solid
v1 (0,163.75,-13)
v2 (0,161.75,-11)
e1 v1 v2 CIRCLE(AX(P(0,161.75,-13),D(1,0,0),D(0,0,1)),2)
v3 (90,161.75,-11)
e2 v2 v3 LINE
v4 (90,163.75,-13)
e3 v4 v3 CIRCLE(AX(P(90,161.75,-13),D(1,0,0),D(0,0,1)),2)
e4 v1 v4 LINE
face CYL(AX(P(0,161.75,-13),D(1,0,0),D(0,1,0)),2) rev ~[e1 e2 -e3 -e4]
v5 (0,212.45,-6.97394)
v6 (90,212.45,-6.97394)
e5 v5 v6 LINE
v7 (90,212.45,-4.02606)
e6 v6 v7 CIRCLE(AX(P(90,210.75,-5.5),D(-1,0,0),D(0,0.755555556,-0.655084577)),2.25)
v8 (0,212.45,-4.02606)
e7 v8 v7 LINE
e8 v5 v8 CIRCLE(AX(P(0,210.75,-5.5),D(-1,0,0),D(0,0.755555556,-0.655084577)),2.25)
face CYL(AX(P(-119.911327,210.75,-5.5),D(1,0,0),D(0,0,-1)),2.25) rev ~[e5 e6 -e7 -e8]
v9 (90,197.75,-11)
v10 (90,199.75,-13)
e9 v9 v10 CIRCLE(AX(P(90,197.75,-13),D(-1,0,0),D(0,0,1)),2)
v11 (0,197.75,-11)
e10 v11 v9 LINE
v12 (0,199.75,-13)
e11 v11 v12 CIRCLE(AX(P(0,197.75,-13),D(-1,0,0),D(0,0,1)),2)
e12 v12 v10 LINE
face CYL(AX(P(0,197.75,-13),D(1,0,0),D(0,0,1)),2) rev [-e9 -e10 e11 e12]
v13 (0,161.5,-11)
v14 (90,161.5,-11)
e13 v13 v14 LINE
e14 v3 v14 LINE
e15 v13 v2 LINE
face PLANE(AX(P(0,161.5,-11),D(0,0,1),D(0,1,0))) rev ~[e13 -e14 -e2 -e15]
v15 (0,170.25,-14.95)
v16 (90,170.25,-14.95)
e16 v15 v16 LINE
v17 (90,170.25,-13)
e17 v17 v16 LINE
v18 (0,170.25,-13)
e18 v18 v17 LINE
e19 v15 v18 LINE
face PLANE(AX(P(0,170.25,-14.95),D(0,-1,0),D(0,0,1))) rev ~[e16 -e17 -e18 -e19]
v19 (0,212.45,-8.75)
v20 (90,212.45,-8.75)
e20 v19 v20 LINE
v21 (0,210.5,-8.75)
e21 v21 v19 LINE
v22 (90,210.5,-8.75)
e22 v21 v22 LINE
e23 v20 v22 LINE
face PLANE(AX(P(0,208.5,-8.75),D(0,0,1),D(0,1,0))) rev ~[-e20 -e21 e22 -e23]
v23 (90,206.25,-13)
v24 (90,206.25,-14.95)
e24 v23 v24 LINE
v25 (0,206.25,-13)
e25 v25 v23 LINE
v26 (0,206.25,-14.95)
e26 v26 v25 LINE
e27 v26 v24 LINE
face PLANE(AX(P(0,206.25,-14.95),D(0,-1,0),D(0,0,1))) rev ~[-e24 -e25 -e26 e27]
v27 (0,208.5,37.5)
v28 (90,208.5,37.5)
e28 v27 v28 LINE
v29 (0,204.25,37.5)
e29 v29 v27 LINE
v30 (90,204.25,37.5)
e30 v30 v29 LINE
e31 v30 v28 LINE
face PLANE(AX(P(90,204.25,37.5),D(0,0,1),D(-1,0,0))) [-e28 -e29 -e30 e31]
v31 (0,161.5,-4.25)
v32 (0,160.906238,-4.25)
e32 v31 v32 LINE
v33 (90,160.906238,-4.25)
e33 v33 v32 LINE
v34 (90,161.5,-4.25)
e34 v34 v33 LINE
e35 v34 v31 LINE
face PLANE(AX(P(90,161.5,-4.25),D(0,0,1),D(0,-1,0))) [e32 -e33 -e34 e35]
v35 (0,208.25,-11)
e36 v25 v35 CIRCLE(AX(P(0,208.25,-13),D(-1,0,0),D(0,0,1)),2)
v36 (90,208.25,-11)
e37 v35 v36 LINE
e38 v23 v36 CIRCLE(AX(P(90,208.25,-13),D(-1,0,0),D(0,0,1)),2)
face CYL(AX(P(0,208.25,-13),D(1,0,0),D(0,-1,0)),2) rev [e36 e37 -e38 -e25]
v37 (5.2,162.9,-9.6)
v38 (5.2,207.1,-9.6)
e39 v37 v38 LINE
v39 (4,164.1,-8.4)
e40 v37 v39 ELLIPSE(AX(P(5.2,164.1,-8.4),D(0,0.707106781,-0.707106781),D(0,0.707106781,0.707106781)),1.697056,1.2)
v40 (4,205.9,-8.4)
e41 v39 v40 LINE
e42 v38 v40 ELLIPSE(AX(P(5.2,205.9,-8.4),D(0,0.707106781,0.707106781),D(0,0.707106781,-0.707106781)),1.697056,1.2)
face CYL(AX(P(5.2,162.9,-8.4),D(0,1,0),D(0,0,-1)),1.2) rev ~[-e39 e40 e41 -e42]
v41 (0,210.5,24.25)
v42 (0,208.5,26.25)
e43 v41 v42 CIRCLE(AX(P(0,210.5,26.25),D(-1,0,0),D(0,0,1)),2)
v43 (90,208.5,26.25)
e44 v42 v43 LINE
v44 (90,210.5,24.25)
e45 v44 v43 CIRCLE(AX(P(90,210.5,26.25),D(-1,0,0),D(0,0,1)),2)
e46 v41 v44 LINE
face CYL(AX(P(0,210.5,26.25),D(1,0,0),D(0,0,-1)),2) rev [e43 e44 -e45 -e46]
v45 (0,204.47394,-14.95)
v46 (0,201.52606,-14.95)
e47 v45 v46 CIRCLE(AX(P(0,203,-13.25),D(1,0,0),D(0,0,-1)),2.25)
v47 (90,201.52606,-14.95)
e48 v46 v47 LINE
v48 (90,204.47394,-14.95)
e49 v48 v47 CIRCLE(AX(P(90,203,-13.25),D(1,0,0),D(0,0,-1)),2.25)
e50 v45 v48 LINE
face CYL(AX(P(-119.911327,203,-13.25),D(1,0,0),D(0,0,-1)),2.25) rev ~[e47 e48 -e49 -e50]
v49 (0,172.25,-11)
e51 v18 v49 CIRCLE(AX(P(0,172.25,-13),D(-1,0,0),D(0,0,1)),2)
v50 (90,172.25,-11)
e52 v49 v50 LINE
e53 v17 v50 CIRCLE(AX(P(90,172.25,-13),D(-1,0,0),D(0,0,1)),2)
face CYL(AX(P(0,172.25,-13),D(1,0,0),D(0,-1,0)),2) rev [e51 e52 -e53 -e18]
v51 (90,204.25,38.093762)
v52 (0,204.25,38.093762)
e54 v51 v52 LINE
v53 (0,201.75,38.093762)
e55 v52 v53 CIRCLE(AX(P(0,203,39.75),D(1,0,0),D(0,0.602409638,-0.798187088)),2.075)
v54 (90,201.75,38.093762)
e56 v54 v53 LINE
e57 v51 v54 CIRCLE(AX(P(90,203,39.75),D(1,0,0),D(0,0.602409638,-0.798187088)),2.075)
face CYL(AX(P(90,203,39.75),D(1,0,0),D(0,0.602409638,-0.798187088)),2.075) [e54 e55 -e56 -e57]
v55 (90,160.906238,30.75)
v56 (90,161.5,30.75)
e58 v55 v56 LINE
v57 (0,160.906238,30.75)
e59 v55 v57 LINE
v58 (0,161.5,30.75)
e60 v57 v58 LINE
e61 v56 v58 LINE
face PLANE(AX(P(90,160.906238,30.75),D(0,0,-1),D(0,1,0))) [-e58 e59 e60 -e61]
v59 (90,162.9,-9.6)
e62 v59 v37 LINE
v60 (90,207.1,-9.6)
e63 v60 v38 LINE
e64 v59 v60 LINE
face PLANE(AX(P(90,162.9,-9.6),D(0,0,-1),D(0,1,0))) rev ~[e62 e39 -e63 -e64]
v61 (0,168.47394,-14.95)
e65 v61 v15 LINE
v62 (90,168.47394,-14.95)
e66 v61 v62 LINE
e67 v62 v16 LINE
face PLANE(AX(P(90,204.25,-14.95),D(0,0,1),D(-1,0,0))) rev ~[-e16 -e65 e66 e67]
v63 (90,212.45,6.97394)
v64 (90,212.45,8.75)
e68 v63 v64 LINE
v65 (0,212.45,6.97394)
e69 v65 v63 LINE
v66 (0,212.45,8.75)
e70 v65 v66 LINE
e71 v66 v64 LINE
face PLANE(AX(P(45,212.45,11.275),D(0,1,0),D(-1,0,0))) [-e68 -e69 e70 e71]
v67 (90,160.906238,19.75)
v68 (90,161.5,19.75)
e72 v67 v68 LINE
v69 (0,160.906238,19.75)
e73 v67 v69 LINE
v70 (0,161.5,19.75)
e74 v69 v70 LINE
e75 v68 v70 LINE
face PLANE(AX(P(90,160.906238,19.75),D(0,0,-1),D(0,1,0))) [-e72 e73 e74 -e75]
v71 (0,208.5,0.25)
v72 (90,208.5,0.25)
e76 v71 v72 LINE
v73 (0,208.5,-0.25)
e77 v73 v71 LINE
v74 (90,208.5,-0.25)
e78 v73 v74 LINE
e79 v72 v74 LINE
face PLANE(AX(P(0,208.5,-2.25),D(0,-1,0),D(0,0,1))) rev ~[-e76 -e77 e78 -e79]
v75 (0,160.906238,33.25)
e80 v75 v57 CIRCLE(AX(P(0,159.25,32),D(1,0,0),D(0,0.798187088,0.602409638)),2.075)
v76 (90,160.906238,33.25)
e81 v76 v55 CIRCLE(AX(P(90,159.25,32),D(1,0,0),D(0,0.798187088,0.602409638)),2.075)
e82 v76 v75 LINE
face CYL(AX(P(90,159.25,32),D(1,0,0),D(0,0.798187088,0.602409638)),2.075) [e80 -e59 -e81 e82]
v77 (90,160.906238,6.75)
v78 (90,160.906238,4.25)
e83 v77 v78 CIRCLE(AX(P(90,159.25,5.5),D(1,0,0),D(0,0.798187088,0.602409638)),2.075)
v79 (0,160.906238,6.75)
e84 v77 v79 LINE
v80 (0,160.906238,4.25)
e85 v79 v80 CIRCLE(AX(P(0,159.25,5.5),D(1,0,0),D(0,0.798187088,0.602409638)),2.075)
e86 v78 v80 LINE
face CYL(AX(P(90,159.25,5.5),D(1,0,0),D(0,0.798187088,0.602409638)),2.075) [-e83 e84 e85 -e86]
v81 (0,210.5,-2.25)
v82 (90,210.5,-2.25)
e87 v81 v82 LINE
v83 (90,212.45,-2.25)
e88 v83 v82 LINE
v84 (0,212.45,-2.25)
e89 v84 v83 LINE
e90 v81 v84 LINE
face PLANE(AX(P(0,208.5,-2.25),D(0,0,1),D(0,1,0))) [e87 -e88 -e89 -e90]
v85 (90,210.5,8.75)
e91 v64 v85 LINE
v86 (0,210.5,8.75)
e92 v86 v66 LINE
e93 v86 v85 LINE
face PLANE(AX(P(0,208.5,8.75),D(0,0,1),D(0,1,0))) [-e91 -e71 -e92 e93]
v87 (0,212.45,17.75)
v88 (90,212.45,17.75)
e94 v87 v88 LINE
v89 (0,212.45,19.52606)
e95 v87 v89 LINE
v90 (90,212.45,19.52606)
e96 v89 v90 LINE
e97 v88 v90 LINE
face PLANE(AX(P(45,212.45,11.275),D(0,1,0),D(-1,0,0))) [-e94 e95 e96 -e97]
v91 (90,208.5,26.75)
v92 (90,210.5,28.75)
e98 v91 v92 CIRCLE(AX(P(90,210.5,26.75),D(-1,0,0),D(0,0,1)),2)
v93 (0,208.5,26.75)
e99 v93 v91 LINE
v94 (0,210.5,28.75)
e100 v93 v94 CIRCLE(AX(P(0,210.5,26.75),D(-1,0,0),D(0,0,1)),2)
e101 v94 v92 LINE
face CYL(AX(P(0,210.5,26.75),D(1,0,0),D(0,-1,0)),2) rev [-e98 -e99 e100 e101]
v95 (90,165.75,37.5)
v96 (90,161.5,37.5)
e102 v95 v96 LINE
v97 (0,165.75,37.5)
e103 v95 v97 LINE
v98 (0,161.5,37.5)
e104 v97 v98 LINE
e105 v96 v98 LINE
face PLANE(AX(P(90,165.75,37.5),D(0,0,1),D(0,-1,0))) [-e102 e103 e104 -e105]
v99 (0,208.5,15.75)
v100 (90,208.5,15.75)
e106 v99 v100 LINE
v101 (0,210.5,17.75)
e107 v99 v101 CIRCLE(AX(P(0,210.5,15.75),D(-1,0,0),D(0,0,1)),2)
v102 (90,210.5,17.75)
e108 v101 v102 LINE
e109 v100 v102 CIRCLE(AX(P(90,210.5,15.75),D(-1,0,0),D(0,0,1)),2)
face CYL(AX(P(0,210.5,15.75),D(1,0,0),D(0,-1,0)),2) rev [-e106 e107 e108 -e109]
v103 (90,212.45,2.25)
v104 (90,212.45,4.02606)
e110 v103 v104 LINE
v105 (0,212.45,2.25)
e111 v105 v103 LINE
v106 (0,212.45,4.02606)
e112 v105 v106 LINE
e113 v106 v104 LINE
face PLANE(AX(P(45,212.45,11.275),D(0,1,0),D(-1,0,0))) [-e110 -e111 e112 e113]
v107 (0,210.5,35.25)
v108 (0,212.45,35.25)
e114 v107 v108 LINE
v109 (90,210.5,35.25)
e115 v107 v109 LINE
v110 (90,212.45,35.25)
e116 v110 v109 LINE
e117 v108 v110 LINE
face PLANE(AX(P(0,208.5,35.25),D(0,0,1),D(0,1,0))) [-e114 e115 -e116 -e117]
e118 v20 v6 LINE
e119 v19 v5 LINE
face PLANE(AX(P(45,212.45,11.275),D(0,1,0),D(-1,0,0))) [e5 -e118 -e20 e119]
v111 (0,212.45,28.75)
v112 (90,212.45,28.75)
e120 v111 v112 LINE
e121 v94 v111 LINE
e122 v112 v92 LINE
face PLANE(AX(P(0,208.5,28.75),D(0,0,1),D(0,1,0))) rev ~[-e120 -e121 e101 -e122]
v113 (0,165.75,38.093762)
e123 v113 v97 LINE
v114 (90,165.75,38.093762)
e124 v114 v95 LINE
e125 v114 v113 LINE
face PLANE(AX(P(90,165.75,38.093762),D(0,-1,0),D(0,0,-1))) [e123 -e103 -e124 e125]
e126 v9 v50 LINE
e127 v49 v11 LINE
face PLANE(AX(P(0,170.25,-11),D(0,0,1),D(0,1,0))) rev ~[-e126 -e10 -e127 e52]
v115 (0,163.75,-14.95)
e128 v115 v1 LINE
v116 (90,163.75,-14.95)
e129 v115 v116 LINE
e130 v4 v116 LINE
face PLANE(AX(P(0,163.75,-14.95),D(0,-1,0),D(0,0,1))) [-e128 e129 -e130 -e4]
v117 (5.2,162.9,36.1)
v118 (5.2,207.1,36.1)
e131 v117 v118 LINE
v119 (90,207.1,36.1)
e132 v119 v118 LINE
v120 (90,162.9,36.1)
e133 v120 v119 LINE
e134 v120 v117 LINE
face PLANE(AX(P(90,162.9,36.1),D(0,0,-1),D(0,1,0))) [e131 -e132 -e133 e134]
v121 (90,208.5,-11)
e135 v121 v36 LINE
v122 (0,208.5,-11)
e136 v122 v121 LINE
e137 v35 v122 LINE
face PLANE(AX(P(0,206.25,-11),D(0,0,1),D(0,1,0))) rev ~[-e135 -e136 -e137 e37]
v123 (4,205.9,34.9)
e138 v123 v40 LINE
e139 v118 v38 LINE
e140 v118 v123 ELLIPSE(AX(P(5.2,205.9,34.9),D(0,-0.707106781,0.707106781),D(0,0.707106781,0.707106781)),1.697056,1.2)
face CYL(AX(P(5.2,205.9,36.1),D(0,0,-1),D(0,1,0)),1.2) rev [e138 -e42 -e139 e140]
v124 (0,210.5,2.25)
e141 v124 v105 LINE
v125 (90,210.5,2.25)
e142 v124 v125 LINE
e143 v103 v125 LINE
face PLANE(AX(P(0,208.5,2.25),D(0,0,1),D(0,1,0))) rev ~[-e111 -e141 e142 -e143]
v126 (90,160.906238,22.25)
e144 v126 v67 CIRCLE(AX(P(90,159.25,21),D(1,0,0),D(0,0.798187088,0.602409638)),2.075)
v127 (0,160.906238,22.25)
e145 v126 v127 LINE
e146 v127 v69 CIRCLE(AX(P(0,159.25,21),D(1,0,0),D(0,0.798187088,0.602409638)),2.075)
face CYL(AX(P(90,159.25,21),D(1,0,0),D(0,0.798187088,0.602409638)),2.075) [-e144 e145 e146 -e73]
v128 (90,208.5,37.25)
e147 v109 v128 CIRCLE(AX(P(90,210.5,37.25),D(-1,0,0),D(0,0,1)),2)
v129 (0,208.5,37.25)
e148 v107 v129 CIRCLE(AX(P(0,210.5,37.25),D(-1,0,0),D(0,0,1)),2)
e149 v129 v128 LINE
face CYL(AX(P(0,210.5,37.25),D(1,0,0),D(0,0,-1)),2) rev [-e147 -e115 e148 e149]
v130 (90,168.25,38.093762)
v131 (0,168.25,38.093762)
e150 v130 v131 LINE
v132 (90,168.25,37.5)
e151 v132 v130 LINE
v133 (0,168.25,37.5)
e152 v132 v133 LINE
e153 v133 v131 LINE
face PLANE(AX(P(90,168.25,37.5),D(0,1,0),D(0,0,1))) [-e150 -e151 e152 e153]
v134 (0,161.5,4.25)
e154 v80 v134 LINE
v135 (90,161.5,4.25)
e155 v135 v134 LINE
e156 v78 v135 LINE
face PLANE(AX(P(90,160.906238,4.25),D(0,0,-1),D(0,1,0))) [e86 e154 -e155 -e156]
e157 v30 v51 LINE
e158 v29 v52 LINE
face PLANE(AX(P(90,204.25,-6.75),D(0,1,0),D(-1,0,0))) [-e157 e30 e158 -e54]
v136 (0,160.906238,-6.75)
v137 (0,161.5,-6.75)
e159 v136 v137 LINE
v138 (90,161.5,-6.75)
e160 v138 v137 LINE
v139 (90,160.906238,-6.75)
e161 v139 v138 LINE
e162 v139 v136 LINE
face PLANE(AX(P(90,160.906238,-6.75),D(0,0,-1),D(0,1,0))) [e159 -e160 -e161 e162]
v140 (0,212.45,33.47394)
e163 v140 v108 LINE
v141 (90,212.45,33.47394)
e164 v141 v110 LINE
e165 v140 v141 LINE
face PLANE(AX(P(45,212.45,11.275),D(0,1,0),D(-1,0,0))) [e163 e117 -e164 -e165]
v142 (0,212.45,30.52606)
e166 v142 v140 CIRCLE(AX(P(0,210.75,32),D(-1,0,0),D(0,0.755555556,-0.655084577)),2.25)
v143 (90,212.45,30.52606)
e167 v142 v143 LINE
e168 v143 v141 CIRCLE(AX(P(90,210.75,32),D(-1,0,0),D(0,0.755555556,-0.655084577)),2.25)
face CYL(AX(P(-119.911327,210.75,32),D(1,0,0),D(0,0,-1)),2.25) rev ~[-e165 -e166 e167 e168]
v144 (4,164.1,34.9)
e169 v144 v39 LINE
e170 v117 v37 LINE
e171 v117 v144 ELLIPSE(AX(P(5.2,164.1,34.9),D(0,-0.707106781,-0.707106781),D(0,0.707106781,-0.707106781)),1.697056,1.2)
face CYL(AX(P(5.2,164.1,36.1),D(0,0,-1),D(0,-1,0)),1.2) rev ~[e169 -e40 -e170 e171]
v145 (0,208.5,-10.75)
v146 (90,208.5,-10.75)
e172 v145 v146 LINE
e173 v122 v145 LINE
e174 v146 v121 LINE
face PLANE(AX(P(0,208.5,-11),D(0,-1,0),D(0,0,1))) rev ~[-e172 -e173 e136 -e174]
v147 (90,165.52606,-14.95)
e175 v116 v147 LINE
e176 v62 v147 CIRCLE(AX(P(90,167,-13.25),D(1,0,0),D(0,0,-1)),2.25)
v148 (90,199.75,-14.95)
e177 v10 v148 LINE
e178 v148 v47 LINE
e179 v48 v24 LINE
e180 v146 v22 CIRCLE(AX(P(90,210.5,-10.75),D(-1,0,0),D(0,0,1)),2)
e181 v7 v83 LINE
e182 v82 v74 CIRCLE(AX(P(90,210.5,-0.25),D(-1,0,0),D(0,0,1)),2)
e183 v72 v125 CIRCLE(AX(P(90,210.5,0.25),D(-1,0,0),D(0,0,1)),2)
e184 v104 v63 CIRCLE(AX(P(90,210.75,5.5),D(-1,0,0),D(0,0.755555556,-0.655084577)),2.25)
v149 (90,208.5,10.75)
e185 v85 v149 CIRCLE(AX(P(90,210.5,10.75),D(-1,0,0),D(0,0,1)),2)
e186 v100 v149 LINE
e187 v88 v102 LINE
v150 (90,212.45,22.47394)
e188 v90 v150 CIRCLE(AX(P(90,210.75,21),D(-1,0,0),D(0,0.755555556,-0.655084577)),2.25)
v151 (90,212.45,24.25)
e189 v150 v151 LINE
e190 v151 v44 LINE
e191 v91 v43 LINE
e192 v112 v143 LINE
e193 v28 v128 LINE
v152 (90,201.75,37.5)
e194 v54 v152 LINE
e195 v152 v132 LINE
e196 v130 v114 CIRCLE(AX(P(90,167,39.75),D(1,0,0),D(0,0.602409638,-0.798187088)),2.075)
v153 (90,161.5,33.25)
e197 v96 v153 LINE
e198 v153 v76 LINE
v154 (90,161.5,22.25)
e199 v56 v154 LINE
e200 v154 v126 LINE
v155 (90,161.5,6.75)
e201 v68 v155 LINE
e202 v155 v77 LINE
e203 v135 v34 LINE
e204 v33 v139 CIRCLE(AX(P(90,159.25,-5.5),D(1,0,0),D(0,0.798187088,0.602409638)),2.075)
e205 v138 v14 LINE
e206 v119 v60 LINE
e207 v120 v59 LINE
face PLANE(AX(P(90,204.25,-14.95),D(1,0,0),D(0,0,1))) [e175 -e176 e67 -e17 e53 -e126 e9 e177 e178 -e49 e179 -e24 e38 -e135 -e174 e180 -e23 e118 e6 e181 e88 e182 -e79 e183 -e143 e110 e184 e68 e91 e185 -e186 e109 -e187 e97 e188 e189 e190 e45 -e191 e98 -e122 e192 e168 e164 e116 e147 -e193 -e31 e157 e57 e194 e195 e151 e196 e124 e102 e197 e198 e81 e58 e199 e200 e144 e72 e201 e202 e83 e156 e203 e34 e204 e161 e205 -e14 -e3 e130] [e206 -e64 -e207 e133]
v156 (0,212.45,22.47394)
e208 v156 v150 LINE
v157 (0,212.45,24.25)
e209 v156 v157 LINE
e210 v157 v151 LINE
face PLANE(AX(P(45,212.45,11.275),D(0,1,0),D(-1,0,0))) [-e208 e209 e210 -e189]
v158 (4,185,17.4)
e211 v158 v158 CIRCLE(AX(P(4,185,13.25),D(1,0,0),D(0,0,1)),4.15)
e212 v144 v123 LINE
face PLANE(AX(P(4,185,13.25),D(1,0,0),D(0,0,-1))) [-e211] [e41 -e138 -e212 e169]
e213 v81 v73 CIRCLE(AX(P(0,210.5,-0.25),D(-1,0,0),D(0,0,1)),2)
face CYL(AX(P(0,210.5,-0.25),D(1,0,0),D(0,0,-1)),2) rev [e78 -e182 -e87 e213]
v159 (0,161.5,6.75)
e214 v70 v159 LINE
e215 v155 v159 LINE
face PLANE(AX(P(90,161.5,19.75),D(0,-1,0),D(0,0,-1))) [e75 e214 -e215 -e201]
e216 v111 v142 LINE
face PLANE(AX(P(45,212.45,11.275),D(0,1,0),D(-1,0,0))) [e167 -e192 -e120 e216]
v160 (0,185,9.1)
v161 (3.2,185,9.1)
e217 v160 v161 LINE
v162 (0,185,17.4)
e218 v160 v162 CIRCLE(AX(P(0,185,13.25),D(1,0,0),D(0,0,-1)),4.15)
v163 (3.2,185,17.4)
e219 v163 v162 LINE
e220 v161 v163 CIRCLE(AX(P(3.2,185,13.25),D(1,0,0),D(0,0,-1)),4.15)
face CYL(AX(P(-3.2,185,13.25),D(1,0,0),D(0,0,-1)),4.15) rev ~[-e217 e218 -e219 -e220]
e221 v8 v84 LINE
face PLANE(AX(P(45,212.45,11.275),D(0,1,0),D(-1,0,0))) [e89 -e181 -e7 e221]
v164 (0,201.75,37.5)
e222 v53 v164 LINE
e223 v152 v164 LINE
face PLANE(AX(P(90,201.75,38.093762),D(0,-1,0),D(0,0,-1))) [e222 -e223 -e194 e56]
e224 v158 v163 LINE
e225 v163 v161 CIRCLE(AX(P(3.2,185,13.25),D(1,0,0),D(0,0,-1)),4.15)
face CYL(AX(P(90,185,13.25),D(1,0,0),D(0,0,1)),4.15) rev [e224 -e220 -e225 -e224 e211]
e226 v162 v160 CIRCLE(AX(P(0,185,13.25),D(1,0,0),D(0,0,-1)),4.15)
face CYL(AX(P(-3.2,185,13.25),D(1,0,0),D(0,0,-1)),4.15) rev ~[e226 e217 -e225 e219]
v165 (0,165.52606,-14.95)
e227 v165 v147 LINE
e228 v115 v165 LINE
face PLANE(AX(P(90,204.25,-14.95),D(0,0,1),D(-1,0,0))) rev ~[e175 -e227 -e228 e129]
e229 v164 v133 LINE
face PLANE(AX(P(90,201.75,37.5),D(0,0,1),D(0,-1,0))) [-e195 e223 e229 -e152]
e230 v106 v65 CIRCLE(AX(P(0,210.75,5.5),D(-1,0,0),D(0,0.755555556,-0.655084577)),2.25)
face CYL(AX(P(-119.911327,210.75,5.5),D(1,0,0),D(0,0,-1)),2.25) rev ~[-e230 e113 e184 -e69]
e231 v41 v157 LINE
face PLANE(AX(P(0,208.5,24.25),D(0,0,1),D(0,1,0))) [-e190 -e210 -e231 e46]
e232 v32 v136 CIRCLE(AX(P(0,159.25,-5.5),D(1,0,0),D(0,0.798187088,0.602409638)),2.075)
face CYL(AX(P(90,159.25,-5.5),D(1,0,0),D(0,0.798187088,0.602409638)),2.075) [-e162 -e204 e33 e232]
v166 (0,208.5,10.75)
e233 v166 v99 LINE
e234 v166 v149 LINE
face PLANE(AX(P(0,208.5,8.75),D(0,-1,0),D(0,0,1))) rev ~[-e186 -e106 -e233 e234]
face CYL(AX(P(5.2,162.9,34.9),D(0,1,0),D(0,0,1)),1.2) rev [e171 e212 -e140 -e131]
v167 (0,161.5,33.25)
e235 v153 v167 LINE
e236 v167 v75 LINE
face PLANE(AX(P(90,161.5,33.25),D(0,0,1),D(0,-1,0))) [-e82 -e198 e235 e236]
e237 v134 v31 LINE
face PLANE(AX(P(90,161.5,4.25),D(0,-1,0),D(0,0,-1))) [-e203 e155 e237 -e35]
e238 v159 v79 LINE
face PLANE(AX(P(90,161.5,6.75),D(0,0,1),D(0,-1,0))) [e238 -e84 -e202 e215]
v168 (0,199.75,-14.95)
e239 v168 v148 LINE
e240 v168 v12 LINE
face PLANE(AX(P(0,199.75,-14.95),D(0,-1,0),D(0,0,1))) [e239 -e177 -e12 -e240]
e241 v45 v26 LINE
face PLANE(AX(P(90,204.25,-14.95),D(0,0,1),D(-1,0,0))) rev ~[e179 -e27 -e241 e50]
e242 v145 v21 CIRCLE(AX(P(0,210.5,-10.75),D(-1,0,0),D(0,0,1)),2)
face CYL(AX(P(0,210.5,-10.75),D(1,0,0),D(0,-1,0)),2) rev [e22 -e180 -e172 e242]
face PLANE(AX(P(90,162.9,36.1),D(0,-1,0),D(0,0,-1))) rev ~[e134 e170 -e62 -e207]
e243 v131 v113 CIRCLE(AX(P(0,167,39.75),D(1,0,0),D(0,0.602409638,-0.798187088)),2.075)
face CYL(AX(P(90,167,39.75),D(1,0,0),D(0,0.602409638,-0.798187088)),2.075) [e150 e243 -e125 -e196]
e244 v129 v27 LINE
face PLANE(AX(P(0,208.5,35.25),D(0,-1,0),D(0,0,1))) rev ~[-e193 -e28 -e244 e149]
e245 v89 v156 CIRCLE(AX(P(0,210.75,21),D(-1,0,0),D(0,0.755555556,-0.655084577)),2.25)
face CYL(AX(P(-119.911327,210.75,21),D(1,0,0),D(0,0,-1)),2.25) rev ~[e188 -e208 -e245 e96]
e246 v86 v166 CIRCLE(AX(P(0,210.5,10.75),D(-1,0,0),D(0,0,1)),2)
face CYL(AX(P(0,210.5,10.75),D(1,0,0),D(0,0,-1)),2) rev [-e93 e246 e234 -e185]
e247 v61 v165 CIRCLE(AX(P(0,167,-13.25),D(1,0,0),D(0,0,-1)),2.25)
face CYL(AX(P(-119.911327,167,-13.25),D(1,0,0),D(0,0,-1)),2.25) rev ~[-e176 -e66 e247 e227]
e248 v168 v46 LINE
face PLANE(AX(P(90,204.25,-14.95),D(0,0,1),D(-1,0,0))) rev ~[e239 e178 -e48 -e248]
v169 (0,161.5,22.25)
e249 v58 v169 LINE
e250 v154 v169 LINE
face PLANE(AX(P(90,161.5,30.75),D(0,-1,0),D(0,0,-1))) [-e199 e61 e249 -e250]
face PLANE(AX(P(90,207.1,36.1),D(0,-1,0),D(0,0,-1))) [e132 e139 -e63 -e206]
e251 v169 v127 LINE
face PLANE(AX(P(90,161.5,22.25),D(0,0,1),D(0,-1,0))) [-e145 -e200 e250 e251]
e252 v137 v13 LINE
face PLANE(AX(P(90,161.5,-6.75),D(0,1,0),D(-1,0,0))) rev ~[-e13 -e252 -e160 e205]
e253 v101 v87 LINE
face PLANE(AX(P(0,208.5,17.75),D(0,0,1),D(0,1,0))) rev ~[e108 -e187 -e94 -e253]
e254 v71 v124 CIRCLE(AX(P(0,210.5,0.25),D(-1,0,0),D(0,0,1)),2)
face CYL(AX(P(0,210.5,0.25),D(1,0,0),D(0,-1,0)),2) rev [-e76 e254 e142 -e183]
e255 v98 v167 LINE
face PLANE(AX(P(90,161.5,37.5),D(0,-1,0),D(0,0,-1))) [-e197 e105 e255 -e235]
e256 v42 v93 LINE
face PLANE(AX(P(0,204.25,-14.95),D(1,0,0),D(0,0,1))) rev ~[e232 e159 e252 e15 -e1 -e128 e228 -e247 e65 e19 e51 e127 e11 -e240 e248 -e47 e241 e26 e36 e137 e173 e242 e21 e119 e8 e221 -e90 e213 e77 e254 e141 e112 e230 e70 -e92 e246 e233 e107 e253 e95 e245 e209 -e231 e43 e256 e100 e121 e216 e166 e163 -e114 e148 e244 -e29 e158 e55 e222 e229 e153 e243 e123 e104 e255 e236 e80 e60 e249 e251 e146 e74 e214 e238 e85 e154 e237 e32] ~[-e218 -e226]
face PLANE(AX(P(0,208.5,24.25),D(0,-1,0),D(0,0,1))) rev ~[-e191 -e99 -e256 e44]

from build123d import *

# Parameters (mm, degrees)
EXTRUDE_1_DEPTH             = 90
SKETCH_2_W                  = 90
SKETCH_2_H                  = 42.75
EXTRUDE_2_DEPTH             = 8.2
SKETCH_3_W                  = 90
SKETCH_3_H                  = 52.45
EXTRUDE_3_DEPTH             = 8.2
SKETCH_4_W                  = 3.95
SKETCH_4_H                  = 2.25
CUT_EXTRUDE_1_DEPTH         = 235.487383722
SKETCH_5_W                  = 3.95
SKETCH_5_H                  = 29.5
CUT_EXTRUDE_2_DEPTH         = 235.487383722
SKETCH_6_W                  = 3.95
SKETCH_6_H                  = 6.2
CUT_EXTRUDE_3_DEPTH         = 235.487383722
SKETCH_7_W                  = 2.25
SKETCH_7_H                  = 3.95
CUT_EXTRUDE_4_DEPTH         = 235.487383722
SKETCH_8_W                  = 4.5
SKETCH_8_H                  = 3.95
CUT_EXTRUDE_5_DEPTH         = 235.487383722
SKETCH_9_W                  = 9
SKETCH_9_H                  = 3.95
CUT_EXTRUDE_6_DEPTH         = 235.487383722
SKETCH_10_W                 = 4.5
SKETCH_10_H                 = 3.95
CUT_EXTRUDE_7_DEPTH         = 235.487383722
SKETCH_11_W                 = 2.25
SKETCH_11_H                 = 3.95
CUT_EXTRUDE_8_DEPTH         = 235.487383722
SKETCH_12_W                 = 45.7
SKETCH_12_H                 = 44.2
CUT_EXTRUDE_9_DEPTH         = 86
HOLE_WIZARD_2_5_2_5_1_D     = 2.5
HOLE_WIZARD_4_5_4_5_1_D     = 4.5
HOLE_WIZARD_8_3_8_3_1_D     = 8.3
HOLE_WIZARD_8_3_8_3_1_DEPTH = 3.2
SKETCH_19_R                 = 1.67252853
SKETCH_19_R_2               = 1.459159852
SKETCH_19_R_3               = 1.459908976
SKETCH_19_R_4               = 1.592821911
SKETCH_19_R_5               = 1.532216665
SKETCH_19_R_6               = 1.596138091
EXTRUDE_4_DEPTH             = 90
CUT_EXTRUDE_START           = -90
SKETCH_20_R                 = 4.15
CUT_EXTRUDE_10_DEPTH        = 90
FILLET_1_R                  = 2
FILLET_2_R                  = 2
FILLET_3_R                  = 2
FILLET_4_R                  = 2
FILLET_5_R                  = 2
FILLET_6_R                  = 2
FILLET_7_R                  = 2
FILLET_8_R                  = 2
FILLET_9_R                  = 2
FILLET_10_R                 = 2
FILLET_11_R                 = 2
FILLET_12_R                 = 2
FILLET_13_R                 = 1.2


with BuildPart() as part:
    # Эскиз1 → Бобышка-Вытянуть1 (new body)
    with BuildSketch(Plane(origin=(90, 0, 0), x_dir=(0, 0, -1), z_dir=(1, 0, 0))):
        with BuildLine():
            Line((6.75, 160.906238208), (6.75, 204.25))
            Line((6.75, 204.25), (-38.093761792, 204.25))
            ThreePointArc((-38.093761792, 204.25), (-41.825, 203), (-38.093761792, 201.75))
            Line((-38.093761792, 201.75), (-37.5, 201.75))
            Line((-37.5, 201.75), (-37.5, 168.25))
            Line((-37.5, 168.25), (-38.093761792, 168.25))
            ThreePointArc((-38.093761792, 168.25), (-41.825, 167), (-38.093761792, 165.75))
            Line((-38.093761792, 165.75), (-37.5, 165.75))
            Line((-37.5, 165.75), (-37.5, 161.5))
            Line((-37.5, 161.5), (-33.25, 161.5))
            Line((-33.25, 161.5), (-33.25, 160.906238208))
            ThreePointArc((-33.25, 160.906238208), (-32, 157.175), (-30.75, 160.906238208))
            Line((-30.75, 160.906238208), (-30.75, 161.5))
            Line((-30.75, 161.5), (-22.25, 161.5))
            Line((-22.25, 161.5), (-22.25, 160.906238208))
            ThreePointArc((-22.25, 160.906238208), (-21, 157.175), (-19.75, 160.906238208))
            Line((-19.75, 160.906238208), (-19.75, 161.5))
            Line((-19.75, 161.5), (-6.75, 161.5))
            Line((-6.75, 161.5), (-6.75, 160.906238208))
            ThreePointArc((-6.75, 160.906238208), (-5.5, 157.175), (-4.25, 160.906238208))
            Line((-4.25, 160.906238208), (-4.25, 161.5))
            Line((-4.25, 161.5), (4.25, 161.5))
            Line((4.25, 161.5), (4.25, 160.906238208))
            ThreePointArc((4.25, 160.906238208), (5.5, 157.175), (6.75, 160.906238208))
        make_face()
    extrude(amount=-EXTRUDE_1_DEPTH)

    # Эскиз2 → Бобышка-Вытянуть2 (add)
    with BuildSketch(Plane(origin=(0, 0, -6.75), x_dir=(-1, 0, 0), z_dir=(0, 0, -1))):
        with Locations((-45, 182.875)):
            Rectangle(SKETCH_2_W, SKETCH_2_H)
    extrude(amount=EXTRUDE_2_DEPTH)

    # Эскиз3 → Бобышка-Вытянуть3 (add)
    with BuildSketch(Plane(origin=(0, 204.25, 0), x_dir=(-1, 0, 0), z_dir=(0, 1, 0))):
        with Locations((-45, 11.275)):
            Rectangle(SKETCH_3_W, SKETCH_3_H)
    extrude(amount=EXTRUDE_3_DEPTH)

    # Эскиз4 → Вырез-Вытянуть1 (cut, through all)
    with BuildSketch(Plane.ZY):
        with Locations((-12.975, 162.625)):
            Rectangle(SKETCH_4_W, SKETCH_4_H)
    extrude(amount=-CUT_EXTRUDE_1_DEPTH, mode=Mode.SUBTRACT)

    # Эскиз5 → Вырез-Вытянуть2 (cut, through all)
    with BuildSketch(Plane.ZY):
        with Locations((-12.975, 185)):
            Rectangle(SKETCH_5_W, SKETCH_5_H)
    extrude(amount=-CUT_EXTRUDE_2_DEPTH, mode=Mode.SUBTRACT)

    # Эскиз6 → Вырез-Вытянуть3 (cut, through all)
    with BuildSketch(Plane.ZY):
        with Locations((-12.975, 209.35)):
            Rectangle(SKETCH_6_W, SKETCH_6_H)
    extrude(amount=-CUT_EXTRUDE_3_DEPTH, mode=Mode.SUBTRACT)

    # Эскиз7 → Вырез-Вытянуть4 (cut, through all)
    with BuildSketch(Plane.ZY):
        with Locations((-9.875, 210.475)):
            Rectangle(SKETCH_7_W, SKETCH_7_H)
    extrude(amount=-CUT_EXTRUDE_4_DEPTH, mode=Mode.SUBTRACT)

    # Эскиз8 → Вырез-Вытянуть5 (cut, through all)
    with BuildSketch(Plane.ZY):
        with Locations((0, 210.475)):
            Rectangle(SKETCH_8_W, SKETCH_8_H)
    extrude(amount=-CUT_EXTRUDE_5_DEPTH, mode=Mode.SUBTRACT)

    # Эскиз9 → Вырез-Вытянуть6 (cut, through all)
    with BuildSketch(Plane.ZY):
        with Locations((13.25, 210.475)):
            Rectangle(SKETCH_9_W, SKETCH_9_H)
    extrude(amount=-CUT_EXTRUDE_6_DEPTH, mode=Mode.SUBTRACT)

    # Эскиз10 → Вырез-Вытянуть7 (cut, through all)
    with BuildSketch(Plane.ZY):
        with Locations((26.5, 210.475)):
            Rectangle(SKETCH_10_W, SKETCH_10_H)
    extrude(amount=-CUT_EXTRUDE_7_DEPTH, mode=Mode.SUBTRACT)

    # Эскиз11 → Вырез-Вытянуть8 (cut, through all)
    with BuildSketch(Plane.ZY):
        with Locations((36.375, 210.475)):
            Rectangle(SKETCH_11_W, SKETCH_11_H)
    extrude(amount=-CUT_EXTRUDE_8_DEPTH, mode=Mode.SUBTRACT)

    # Эскиз12 → Вырез-Вытянуть9 (cut)
    with BuildSketch(Plane(origin=(90, 0, 0), x_dir=(0, 0, -1), z_dir=(1, 0, 0))):
        with Locations((-13.25, 185)):
            Rectangle(SKETCH_12_W, SKETCH_12_H)
    extrude(amount=-CUT_EXTRUDE_9_DEPTH, mode=Mode.SUBTRACT)

    # Диаметр отверстия Ø2.5 (2.5)1 (through all)
    with Locations(Plane(origin=(90, 0, 0), x_dir=(0, 0, -1), z_dir=(1, 0, 0))):
        with Locations((5.5, 159.25), (-21, 159.25), (-5.5, 159.25), (-32, 159.25), (-39.75, 167), (-39.75, 203)):
            Hole(HOLE_WIZARD_2_5_2_5_1_D / 2)

    # Диаметр отверстия Ø4.5 (4.5)1 (through all)
    with Locations(Plane.ZY):
        with Locations((-13.25, 167), (-13.25, 203), (-5.5, 210.75), (5.5, 210.75), (21, 210.75), (32, 210.75)):
            Hole(HOLE_WIZARD_4_5_4_5_1_D / 2)

    # Диаметр отверстия Ø8.3 (8.3)1
    with Locations(Plane.ZY):
        with Locations((13.25, 185)):
            Hole(HOLE_WIZARD_8_3_8_3_1_D / 2, depth=HOLE_WIZARD_8_3_8_3_1_DEPTH)

    # Эскиз19 → Бобышка-Вытянуть4 (add)
    with BuildSketch(Plane(origin=(90, 0, 0), x_dir=(0, 0, -1), z_dir=(1, 0, 0))):
        with Locations((-39.75, 203)):
            Circle(SKETCH_19_R)
        with Locations((-39.75, 167)):
            Circle(SKETCH_19_R_2)
        with Locations((-32, 159.25)):
            Circle(SKETCH_19_R_3)
        with Locations((-21, 159.25)):
            Circle(SKETCH_19_R_4)
        with Locations((-5.5, 159.25)):
            Circle(SKETCH_19_R_5)
        with Locations((5.5, 159.25)):
            Circle(SKETCH_19_R_6)
    extrude(amount=-EXTRUDE_4_DEPTH)

    # Эскиз20 → Вырез-Вытянуть10 (cut)
    with BuildSketch(Plane.ZY.offset(CUT_EXTRUDE_START)):
        with Locations((13.25, 185)):
            Circle(SKETCH_20_R)
    extrude(amount=CUT_EXTRUDE_10_DEPTH, mode=Mode.SUBTRACT)

    # Скругление1
    fillet_1_edges = [part.edges().sort_by_distance(p)[0] for p in [
        (45, 208.5, -8.75),
    ]]
    fillet(fillet_1_edges, radius=FILLET_1_R)

    # Скругление2
    fillet_2_edges = [part.edges().sort_by_distance(p)[0] for p in [
        (45, 163.75, -11),
    ]]
    fillet(fillet_2_edges, radius=FILLET_2_R)

    # Скругление3
    fillet_3_edges = [part.edges().sort_by_distance(p)[0] for p in [
        (45, 170.25, -11),
    ]]
    fillet(fillet_3_edges, radius=FILLET_3_R)

    # Скругление4
    fillet_4_edges = [part.edges().sort_by_distance(p)[0] for p in [
        (45, 199.75, -11),
    ]]
    fillet(fillet_4_edges, radius=FILLET_4_R)

    # Скругление5
    fillet_5_edges = [part.edges().sort_by_distance(p)[0] for p in [
        (45, 206.25, -11),
    ]]
    fillet(fillet_5_edges, radius=FILLET_5_R)

    # Скругление6
    fillet_6_edges = [part.edges().sort_by_distance(p)[0] for p in [
        (45, 208.5, -2.25),
    ]]
    fillet(fillet_6_edges, radius=FILLET_6_R)

    # Скругление7
    fillet_7_edges = [part.edges().sort_by_distance(p)[0] for p in [
        (45, 208.5, 2.25),
    ]]
    fillet(fillet_7_edges, radius=FILLET_7_R)

    # Скругление8
    fillet_8_edges = [part.edges().sort_by_distance(p)[0] for p in [
        (45, 208.5, 8.75),
    ]]
    fillet(fillet_8_edges, radius=FILLET_8_R)

    # Скругление9
    fillet_9_edges = [part.edges().sort_by_distance(p)[0] for p in [
        (45, 208.5, 17.75),
    ]]
    fillet(fillet_9_edges, radius=FILLET_9_R)

    # Скругление10
    fillet_10_edges = [part.edges().sort_by_distance(p)[0] for p in [
        (45, 208.5, 24.25),
    ]]
    fillet(fillet_10_edges, radius=FILLET_10_R)

    # Скругление11
    fillet_11_edges = [part.edges().sort_by_distance(p)[0] for p in [
        (45, 208.5, 28.75),
    ]]
    fillet(fillet_11_edges, radius=FILLET_11_R)

    # Скругление12
    fillet_12_edges = [part.edges().sort_by_distance(p)[0] for p in [
        (45, 208.5, 35.25),
    ]]
    fillet(fillet_12_edges, radius=FILLET_12_R)

    # Скругление13
    fillet_13_edges = [part.edges().sort_by_distance(p)[0] for p in [
        (4, 185, -9.6),
        (4, 162.9, 13.25),
        (4, 185, 36.1),
        (4, 207.1, 13.25),
    ]]
    fillet(fillet_13_edges, radius=FILLET_13_R)


solid = part.part
